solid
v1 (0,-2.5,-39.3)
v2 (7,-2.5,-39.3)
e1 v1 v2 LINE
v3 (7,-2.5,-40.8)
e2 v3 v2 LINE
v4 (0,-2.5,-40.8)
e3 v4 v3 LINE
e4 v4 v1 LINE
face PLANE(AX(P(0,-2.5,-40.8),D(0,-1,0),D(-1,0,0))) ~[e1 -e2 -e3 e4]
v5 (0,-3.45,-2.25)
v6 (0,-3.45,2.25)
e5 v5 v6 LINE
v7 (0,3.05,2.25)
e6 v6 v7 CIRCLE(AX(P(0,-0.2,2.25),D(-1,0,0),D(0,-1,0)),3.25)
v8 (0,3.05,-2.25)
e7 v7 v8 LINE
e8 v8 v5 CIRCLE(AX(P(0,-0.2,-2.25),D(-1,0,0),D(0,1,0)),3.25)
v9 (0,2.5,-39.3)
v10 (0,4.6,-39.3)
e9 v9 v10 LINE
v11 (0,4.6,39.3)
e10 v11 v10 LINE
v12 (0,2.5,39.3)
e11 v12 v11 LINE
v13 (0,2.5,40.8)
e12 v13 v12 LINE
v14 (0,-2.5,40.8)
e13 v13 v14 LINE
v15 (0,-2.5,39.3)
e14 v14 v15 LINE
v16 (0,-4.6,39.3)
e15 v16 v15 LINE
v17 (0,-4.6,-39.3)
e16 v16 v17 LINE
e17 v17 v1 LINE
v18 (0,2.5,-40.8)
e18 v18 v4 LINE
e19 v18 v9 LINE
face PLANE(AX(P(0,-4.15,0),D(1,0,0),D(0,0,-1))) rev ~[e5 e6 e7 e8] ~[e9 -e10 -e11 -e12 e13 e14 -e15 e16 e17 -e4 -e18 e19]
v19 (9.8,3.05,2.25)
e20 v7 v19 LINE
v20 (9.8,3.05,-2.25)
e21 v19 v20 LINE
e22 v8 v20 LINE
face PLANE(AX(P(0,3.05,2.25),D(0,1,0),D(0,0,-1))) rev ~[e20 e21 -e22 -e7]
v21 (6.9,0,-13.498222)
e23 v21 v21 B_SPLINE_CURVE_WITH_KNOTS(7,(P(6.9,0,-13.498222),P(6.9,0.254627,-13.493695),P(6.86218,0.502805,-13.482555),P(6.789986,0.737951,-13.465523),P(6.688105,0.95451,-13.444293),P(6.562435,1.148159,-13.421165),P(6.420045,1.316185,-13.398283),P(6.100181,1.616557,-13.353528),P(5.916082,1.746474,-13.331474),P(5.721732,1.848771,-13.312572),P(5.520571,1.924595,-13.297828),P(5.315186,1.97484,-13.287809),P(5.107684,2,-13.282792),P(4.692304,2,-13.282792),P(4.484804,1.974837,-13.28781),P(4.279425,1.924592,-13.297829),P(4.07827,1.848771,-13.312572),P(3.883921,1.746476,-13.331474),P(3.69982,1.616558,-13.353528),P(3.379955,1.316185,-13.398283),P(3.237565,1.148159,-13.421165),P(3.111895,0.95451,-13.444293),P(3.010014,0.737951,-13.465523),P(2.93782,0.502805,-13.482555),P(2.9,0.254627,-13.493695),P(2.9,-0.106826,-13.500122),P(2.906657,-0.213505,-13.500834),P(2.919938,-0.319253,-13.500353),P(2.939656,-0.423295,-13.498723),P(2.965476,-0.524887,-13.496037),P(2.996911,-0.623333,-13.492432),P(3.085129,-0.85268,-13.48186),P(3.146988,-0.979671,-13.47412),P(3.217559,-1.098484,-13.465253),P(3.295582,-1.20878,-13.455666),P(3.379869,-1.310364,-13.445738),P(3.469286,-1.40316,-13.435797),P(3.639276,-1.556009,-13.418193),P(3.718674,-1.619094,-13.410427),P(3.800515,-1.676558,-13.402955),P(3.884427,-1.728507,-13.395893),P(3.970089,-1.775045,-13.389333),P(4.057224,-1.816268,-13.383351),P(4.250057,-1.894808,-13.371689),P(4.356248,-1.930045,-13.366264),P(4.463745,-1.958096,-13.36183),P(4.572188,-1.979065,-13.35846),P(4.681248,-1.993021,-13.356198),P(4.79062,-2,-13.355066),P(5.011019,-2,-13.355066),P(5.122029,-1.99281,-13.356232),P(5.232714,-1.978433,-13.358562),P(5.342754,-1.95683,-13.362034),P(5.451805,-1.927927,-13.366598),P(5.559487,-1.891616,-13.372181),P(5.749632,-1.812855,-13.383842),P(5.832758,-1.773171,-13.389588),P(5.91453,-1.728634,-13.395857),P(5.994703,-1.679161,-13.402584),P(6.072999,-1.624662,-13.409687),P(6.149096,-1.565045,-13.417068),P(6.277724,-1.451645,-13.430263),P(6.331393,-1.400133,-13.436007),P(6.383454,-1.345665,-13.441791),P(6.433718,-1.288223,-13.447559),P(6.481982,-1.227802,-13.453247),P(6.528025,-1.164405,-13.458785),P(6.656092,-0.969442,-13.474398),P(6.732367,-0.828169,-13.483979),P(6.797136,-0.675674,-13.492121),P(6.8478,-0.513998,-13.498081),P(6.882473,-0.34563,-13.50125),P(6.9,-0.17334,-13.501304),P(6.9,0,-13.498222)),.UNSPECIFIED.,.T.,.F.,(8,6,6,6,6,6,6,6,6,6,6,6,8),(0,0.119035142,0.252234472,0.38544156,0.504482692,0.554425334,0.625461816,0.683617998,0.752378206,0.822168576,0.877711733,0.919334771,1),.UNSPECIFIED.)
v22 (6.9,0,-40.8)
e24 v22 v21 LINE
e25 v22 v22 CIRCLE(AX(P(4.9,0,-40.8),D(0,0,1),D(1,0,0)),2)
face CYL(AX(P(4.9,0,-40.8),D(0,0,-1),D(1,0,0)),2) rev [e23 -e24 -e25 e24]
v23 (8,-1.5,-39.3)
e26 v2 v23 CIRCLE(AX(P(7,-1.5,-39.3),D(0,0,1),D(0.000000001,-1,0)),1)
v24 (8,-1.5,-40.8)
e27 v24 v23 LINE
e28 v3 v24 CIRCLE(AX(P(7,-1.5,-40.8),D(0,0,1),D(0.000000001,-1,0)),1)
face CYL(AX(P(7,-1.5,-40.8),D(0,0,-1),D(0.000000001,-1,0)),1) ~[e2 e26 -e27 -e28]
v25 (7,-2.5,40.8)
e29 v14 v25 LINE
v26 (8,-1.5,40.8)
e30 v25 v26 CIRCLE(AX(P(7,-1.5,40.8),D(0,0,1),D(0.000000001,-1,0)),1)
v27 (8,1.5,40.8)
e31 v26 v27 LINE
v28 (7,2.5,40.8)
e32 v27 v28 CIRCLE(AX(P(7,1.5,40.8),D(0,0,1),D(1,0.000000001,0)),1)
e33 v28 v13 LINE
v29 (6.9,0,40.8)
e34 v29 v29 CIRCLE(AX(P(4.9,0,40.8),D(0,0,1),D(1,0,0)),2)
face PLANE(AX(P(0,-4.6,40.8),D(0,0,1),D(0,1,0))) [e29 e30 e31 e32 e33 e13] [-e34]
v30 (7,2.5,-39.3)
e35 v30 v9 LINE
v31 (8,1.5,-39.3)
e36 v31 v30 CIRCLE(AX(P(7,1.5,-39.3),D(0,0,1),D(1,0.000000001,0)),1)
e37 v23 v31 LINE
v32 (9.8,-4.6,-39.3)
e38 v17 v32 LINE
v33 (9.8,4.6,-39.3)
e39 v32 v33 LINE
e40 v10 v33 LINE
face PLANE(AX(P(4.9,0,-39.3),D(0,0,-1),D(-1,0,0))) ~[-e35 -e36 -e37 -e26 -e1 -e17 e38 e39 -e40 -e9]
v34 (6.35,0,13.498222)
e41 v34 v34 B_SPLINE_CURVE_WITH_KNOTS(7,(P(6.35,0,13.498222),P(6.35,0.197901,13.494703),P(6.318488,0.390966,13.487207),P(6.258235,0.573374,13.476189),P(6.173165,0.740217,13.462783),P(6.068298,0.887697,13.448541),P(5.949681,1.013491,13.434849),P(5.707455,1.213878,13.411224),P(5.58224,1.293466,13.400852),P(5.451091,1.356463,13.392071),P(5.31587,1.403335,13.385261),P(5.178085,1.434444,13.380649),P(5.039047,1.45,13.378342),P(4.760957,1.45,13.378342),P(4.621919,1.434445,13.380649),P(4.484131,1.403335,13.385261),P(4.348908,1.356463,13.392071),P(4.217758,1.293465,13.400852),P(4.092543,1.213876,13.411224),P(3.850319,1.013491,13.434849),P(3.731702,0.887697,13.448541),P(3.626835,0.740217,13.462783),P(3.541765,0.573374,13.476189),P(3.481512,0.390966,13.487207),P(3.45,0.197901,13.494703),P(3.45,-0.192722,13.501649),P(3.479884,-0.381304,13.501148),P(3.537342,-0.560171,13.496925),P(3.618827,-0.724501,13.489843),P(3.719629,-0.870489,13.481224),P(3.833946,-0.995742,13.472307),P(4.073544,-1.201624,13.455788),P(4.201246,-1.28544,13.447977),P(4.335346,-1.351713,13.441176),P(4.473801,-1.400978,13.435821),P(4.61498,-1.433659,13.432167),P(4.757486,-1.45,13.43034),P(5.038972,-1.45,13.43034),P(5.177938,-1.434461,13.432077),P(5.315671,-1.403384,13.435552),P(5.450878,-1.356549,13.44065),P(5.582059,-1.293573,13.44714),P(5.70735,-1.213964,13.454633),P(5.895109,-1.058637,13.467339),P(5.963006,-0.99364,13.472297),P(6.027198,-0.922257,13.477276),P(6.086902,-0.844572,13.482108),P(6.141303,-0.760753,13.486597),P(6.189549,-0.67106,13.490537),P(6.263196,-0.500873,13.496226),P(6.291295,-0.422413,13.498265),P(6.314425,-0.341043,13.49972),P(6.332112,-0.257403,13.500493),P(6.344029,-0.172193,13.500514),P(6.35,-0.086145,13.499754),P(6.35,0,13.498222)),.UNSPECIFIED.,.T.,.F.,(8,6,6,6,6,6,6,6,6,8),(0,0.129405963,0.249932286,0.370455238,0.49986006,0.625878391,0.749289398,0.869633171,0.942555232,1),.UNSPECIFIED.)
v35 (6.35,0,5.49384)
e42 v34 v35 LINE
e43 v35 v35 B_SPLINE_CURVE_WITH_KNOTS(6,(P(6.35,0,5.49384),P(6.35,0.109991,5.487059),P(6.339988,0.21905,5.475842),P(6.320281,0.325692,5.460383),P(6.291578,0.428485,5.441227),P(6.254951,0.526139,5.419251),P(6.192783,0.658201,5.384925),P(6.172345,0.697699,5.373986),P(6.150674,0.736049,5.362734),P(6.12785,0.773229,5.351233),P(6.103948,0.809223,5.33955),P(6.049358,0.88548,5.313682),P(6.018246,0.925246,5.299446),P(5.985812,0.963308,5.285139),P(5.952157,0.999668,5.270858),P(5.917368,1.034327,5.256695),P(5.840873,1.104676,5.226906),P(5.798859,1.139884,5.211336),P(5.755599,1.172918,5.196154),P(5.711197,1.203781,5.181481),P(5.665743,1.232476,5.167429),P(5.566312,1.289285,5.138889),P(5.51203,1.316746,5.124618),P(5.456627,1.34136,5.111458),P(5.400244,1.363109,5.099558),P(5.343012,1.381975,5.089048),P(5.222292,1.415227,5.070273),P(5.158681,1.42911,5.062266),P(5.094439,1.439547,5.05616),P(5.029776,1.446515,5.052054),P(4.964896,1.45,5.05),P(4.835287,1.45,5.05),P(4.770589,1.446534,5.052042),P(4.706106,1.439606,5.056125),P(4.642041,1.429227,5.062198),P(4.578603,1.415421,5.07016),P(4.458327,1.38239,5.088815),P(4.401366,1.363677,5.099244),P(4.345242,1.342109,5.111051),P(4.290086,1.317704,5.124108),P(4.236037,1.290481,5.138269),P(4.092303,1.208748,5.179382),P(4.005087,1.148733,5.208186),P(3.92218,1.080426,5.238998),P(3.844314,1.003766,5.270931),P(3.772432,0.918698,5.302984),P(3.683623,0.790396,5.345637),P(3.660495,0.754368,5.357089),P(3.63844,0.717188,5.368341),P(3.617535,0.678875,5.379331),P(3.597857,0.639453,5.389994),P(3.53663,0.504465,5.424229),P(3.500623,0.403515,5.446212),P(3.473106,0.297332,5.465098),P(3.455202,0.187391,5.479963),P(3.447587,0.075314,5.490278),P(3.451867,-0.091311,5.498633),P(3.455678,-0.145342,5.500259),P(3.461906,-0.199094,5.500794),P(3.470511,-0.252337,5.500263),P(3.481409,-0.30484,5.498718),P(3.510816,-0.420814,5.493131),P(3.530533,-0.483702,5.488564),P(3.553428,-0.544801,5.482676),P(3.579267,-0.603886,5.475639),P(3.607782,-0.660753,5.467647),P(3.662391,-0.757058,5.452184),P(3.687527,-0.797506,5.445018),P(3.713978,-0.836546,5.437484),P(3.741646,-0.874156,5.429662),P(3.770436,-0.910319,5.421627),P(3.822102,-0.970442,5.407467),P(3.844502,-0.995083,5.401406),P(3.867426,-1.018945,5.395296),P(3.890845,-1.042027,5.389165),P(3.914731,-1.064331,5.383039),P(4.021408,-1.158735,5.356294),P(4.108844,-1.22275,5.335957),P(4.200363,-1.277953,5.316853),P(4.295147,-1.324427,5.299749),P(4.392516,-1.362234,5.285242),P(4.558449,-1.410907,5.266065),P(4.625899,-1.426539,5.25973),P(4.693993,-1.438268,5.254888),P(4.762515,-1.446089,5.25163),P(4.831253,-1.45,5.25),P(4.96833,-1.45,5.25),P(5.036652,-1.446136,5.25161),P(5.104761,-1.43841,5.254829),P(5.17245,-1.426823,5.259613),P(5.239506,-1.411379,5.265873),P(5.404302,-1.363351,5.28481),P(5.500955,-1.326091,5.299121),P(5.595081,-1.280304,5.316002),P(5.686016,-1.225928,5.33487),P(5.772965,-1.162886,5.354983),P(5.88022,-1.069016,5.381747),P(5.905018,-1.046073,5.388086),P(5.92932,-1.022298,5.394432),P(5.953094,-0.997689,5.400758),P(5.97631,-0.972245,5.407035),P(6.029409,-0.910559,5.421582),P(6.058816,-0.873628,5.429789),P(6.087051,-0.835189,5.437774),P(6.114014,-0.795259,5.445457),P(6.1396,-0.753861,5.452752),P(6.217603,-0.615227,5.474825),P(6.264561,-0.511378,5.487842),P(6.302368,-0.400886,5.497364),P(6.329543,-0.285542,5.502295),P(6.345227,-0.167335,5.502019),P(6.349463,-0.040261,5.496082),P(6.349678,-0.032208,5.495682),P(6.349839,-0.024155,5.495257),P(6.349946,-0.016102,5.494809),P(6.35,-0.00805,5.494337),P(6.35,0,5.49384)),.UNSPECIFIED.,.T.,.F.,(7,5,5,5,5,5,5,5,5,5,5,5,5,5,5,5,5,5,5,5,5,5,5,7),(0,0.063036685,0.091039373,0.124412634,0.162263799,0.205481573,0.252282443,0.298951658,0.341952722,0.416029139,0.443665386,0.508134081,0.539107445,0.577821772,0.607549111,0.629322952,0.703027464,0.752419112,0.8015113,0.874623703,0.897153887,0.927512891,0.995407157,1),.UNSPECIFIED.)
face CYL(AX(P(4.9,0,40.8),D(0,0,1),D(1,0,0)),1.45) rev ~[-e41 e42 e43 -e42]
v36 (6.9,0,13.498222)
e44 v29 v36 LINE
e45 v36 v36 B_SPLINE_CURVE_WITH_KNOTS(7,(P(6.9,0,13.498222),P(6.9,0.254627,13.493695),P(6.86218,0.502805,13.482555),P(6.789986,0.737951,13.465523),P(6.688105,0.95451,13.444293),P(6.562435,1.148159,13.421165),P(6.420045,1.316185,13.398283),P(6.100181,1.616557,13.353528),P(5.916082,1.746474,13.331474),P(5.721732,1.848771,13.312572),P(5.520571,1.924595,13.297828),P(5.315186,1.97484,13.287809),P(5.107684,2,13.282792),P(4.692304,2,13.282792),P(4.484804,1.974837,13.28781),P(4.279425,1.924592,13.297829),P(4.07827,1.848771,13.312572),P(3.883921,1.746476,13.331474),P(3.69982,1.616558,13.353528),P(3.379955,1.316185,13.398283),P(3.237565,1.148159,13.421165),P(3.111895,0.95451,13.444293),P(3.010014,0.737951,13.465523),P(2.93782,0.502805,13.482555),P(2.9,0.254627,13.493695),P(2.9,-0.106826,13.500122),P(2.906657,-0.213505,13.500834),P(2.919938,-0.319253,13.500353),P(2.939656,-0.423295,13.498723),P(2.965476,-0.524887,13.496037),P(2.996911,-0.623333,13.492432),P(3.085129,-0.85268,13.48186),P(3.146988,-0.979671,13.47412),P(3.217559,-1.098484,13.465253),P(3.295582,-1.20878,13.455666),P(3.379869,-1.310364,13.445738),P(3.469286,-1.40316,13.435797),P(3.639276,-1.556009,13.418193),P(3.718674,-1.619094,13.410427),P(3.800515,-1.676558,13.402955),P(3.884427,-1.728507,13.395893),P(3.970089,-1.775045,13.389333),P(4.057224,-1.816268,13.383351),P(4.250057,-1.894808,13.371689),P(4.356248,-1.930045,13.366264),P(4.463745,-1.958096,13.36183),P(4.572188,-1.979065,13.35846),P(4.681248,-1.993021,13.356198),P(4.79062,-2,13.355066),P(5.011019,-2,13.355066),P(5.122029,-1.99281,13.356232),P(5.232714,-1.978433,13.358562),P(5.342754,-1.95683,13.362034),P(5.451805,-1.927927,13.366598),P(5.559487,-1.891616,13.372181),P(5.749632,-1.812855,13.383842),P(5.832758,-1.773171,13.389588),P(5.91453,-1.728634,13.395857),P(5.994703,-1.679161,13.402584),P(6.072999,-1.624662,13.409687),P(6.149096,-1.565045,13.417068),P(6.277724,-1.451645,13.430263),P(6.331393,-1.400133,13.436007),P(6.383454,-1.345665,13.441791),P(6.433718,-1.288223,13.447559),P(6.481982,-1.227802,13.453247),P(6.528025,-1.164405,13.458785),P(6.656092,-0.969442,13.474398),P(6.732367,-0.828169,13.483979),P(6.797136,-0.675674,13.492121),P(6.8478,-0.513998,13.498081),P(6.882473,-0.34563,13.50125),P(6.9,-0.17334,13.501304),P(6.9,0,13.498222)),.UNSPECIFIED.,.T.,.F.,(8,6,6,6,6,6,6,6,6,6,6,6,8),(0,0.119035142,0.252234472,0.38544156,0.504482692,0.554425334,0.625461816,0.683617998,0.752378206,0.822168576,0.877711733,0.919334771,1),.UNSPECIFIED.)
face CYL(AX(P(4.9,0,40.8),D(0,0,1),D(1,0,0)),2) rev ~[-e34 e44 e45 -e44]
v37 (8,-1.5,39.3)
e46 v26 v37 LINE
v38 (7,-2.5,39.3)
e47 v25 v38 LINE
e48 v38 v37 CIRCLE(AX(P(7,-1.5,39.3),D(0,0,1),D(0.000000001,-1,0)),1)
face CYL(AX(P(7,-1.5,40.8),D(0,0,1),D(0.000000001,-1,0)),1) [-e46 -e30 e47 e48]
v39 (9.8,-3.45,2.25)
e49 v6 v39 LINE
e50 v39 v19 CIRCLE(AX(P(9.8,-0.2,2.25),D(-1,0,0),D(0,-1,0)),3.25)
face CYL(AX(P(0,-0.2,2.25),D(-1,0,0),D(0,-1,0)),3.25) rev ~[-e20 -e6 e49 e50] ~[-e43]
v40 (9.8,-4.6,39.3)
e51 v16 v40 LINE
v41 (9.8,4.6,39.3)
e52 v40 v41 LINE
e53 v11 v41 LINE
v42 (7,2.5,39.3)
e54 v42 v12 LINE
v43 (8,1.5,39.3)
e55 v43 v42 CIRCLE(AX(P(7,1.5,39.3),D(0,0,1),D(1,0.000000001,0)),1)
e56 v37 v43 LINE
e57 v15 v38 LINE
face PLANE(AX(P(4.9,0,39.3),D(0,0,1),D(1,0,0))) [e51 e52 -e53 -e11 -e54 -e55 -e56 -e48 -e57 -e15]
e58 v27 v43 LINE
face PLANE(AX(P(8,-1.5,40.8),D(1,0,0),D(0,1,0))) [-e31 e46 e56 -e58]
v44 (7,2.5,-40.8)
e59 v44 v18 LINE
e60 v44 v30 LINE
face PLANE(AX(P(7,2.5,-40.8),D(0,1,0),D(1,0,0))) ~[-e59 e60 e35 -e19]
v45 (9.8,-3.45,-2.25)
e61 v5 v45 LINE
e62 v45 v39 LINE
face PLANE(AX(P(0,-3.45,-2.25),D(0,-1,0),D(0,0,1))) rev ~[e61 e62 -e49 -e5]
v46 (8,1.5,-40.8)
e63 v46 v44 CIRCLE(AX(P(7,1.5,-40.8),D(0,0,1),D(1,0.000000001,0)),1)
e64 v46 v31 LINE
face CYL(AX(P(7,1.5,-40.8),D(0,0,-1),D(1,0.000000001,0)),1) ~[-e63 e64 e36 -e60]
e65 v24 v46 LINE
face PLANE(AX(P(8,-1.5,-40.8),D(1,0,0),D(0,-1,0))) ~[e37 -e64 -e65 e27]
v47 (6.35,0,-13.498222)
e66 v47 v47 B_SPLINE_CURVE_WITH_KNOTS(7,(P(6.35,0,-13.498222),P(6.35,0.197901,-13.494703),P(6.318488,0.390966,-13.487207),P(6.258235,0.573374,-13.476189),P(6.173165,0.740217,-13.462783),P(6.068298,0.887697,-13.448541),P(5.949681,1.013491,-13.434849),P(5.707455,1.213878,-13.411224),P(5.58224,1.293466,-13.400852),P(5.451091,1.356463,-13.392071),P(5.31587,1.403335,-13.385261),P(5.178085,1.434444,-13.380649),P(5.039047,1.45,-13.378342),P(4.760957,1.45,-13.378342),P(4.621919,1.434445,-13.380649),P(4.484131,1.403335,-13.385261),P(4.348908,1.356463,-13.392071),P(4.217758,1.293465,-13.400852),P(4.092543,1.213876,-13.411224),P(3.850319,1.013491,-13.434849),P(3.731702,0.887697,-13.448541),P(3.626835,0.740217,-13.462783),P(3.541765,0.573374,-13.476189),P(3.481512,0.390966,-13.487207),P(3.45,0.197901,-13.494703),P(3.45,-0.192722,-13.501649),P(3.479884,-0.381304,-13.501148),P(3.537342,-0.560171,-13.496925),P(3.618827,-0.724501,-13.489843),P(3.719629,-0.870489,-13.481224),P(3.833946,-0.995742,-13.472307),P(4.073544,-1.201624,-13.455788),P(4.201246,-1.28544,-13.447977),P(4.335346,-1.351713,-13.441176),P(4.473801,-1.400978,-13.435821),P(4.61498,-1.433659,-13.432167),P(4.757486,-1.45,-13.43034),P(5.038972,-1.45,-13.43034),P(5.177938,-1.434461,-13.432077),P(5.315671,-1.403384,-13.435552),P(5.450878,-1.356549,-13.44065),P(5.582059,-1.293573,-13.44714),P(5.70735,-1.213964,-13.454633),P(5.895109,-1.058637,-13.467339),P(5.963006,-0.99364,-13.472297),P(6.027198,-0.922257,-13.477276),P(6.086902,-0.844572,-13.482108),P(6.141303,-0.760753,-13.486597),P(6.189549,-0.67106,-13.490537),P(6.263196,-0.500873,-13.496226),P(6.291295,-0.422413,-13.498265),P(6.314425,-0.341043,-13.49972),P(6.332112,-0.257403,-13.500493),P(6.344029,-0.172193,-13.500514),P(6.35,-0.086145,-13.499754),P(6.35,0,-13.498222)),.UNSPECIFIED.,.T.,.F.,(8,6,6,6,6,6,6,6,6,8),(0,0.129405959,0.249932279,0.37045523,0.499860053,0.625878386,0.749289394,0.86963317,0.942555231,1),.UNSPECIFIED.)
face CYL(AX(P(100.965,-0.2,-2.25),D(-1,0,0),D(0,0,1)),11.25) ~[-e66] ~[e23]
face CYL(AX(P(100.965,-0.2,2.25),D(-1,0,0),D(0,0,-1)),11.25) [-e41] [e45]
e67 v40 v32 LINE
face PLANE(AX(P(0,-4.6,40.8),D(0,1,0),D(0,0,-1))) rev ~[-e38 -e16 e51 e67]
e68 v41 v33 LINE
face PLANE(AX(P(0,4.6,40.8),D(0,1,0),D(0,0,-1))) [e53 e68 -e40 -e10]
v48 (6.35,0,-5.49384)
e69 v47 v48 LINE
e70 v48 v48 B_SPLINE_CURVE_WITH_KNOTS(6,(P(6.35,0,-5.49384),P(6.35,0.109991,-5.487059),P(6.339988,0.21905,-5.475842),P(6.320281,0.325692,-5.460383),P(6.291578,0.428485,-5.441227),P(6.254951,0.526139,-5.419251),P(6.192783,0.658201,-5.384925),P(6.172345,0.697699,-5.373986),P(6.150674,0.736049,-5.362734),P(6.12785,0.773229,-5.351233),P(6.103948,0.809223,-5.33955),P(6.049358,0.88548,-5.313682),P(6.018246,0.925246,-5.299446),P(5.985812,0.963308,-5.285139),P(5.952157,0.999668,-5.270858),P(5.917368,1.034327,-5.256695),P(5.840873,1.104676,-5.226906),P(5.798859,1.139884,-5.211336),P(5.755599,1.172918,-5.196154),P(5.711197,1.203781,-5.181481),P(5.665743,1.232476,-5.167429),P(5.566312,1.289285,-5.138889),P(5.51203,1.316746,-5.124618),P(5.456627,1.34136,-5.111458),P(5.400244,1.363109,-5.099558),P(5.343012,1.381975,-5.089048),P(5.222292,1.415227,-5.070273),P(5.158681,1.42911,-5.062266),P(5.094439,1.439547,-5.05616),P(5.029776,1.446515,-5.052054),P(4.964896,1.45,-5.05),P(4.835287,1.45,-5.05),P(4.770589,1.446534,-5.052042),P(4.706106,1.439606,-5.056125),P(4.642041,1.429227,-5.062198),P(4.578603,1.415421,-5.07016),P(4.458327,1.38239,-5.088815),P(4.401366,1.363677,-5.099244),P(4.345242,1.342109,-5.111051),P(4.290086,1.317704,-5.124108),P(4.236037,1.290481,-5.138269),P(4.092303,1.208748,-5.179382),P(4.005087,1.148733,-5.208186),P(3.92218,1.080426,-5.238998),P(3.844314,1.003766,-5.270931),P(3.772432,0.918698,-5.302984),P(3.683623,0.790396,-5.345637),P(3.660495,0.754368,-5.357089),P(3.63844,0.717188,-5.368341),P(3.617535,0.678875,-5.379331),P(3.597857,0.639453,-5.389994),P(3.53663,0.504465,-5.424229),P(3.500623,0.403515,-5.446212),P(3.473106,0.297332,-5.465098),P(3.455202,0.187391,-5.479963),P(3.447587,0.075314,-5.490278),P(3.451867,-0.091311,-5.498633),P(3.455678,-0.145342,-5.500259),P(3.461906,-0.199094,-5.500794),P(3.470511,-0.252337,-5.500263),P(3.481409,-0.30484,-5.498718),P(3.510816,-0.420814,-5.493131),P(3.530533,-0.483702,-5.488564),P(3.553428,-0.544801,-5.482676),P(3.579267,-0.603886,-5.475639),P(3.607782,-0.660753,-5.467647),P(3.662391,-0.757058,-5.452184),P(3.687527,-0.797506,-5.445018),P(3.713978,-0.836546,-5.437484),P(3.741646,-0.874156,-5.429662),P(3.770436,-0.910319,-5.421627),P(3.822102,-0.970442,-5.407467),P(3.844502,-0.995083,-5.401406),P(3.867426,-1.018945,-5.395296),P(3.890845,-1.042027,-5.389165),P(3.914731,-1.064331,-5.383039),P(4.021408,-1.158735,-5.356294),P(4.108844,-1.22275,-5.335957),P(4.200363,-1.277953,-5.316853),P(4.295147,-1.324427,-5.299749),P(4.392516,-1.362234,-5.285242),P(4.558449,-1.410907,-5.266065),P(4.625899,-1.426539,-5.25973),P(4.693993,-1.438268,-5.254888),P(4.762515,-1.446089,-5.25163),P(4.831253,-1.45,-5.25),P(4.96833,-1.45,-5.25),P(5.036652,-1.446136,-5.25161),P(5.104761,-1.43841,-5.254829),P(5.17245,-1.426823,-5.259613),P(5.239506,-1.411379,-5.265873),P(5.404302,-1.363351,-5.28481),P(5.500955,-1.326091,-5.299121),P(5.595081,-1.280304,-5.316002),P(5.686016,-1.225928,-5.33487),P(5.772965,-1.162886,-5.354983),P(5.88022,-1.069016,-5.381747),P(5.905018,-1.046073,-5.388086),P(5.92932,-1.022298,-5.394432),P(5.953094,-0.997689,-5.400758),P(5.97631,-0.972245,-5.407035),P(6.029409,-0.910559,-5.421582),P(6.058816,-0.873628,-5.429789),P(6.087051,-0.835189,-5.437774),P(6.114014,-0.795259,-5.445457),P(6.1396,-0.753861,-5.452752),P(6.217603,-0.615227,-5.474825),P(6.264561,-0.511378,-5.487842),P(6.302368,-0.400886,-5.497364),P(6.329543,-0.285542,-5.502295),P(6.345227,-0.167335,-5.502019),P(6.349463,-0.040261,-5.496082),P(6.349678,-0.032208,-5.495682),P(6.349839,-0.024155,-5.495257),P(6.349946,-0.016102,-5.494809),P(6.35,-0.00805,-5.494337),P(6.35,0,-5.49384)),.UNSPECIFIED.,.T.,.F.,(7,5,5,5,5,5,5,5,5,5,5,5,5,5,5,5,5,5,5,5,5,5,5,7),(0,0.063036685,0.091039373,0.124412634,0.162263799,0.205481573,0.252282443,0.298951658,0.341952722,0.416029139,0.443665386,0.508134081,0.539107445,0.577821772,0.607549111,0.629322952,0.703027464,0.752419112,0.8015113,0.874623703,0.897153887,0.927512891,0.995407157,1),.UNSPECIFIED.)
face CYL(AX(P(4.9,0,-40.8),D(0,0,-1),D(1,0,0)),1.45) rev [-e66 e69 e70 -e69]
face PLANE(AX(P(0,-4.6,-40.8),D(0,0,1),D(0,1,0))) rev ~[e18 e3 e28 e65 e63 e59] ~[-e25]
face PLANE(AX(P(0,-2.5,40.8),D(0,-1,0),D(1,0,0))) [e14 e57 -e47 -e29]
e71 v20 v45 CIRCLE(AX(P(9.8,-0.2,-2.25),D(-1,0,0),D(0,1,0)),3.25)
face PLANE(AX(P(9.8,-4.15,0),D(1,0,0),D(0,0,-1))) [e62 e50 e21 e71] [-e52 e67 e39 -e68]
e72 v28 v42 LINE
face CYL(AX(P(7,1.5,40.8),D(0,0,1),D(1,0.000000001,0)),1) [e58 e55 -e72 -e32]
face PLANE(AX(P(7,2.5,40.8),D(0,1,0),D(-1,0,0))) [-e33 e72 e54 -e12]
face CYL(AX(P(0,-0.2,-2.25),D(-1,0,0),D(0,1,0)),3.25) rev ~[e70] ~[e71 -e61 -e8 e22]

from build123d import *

# Parameters (mm, degrees)
SKETCH1_W               = 81.6
SKETCH1_H               = 0.9
SKETCH1_H_2             = 7.4
BOSS_EXTRUDE1_DEPTH     = 9.8
SKETCH5_W               = 9.8
SKETCH5_H               = 9.2
CUT_EXTRUDE3_DEPTH      = 1.5
CUT_EXTRUDE1_REACH      = 84.315
CUT_EXTRUDE1_END_RADIUS = 3.25
SKETCH3_R               = 1.45
CUT_EXTRUDE2_REACH      = 84.315
CUT_EXTRUDE2_END_RADIUS = 11.25
SKETCH4_R               = 2


with BuildPart() as part:
    # Sketch1 → Boss-Extrude1 (new body)
    # profile 1 of 3: a face of its own
    with BuildSketch(Plane(origin=(0, 0, 0), x_dir=(0, 0, -1), z_dir=(1, 0, 0))):
        with Locations((0, 4.15)):
            Rectangle(SKETCH1_W, SKETCH1_H)
    # profile 2 of 3: a face of its own
    with BuildSketch(Plane(origin=(0, 0, 0), x_dir=(0, 0, -1), z_dir=(1, 0, 0))):
        Rectangle(SKETCH1_W, SKETCH1_H_2)
        with BuildLine():
            ThreePointArc((-2.25, -3.45), (-5.5, -0.2), (-2.25, 3.05))
            Line((-2.25, 3.05), (2.25, 3.05))
            ThreePointArc((2.25, 3.05), (5.5, -0.2), (2.25, -3.45))
            Line((2.25, -3.45), (-2.25, -3.45))
        make_face(mode=Mode.SUBTRACT)
    # profile 3 of 3: a face of its own
    with BuildSketch(Plane(origin=(0, 0, 0), x_dir=(0, 0, -1), z_dir=(1, 0, 0))):
        with Locations((0, -4.15)):
            Rectangle(SKETCH1_W, SKETCH1_H)
    extrude(amount=BOSS_EXTRUDE1_DEPTH)

    # Sketch5 → Cut-Extrude3 (cut)
    with BuildSketch(Plane.XY.offset(40.8)):
        with Locations((4.9, 0)):
            Rectangle(SKETCH5_W, SKETCH5_H)
        with BuildLine():
            Line((7, 2.5), (0, 2.5))
            Line((0, 2.5), (0, -2.5))
            Line((0, -2.5), (7, -2.5))
            ThreePointArc((7, -2.5), (7.707106781, -2.207106781), (8, -1.5))
            Line((8, -1.5), (8, 1.5))
            ThreePointArc((8, 1.5), (7.707106781, 2.207106781), (7, 2.5))
        make_face(mode=Mode.SUBTRACT)
    cut_extrude3 = extrude(amount=-CUT_EXTRUDE3_DEPTH, mode=Mode.SUBTRACT)

    # Cut-Extrude1: up to this cylinder (the profile starts outside it)
    cut_extrude1_end = Plane(origin=(4.9, -0.2, 2.25), z_dir=(-1, 0, 0)) * Cylinder(CUT_EXTRUDE1_END_RADIUS, 176.13, mode=Mode.PRIVATE)
    # Sketch3 → Cut-Extrude1 (cut, up to the surface)
    with BuildSketch(Plane.XY.offset(40.8), mode=Mode.PRIVATE) as cut_extrude1_sk1:
        with Locations((4.9, 0)):
            Circle(SKETCH3_R)
    cut_extrude1_tool1 = extrude(cut_extrude1_sk1.sketch, amount=-CUT_EXTRUDE1_REACH, mode=Mode.PRIVATE) - cut_extrude1_end
    cut_extrude1 = cut_extrude1_tool1.solids().sort_by_distance((4.9, 0, 40.8))[0]
    add(cut_extrude1, mode=Mode.SUBTRACT)

    # Cut-Extrude2: up to this cylinder (the profile starts outside it)
    cut_extrude2_end = Plane(origin=(4.9, -0.2, 2.25), z_dir=(-1, 0, 0)) * Cylinder(CUT_EXTRUDE2_END_RADIUS, 192.13, mode=Mode.PRIVATE)
    # Sketch4 → Cut-Extrude2 (cut, up to the surface)
    with BuildSketch(Plane.XY.offset(40.8), mode=Mode.PRIVATE) as cut_extrude2_sk1:
        with Locations((4.9, 0)):
            Circle(SKETCH4_R)
    cut_extrude2_tool1 = extrude(cut_extrude2_sk1.sketch, amount=-CUT_EXTRUDE2_REACH, mode=Mode.PRIVATE) - cut_extrude2_end
    cut_extrude2 = cut_extrude2_tool1.solids().sort_by_distance((4.9, 0, 40.8))[0]
    add(cut_extrude2, mode=Mode.SUBTRACT)

    # Mirror5: Cut-Extrude3, Cut-Extrude1, Cut-Extrude2 across plane
    add(cut_extrude3.mirror(Plane.XY), mode=Mode.SUBTRACT)
    add(cut_extrude1.mirror(Plane.XY), mode=Mode.SUBTRACT)
    add(cut_extrude2.mirror(Plane.XY), mode=Mode.SUBTRACT)


solid = part.part
